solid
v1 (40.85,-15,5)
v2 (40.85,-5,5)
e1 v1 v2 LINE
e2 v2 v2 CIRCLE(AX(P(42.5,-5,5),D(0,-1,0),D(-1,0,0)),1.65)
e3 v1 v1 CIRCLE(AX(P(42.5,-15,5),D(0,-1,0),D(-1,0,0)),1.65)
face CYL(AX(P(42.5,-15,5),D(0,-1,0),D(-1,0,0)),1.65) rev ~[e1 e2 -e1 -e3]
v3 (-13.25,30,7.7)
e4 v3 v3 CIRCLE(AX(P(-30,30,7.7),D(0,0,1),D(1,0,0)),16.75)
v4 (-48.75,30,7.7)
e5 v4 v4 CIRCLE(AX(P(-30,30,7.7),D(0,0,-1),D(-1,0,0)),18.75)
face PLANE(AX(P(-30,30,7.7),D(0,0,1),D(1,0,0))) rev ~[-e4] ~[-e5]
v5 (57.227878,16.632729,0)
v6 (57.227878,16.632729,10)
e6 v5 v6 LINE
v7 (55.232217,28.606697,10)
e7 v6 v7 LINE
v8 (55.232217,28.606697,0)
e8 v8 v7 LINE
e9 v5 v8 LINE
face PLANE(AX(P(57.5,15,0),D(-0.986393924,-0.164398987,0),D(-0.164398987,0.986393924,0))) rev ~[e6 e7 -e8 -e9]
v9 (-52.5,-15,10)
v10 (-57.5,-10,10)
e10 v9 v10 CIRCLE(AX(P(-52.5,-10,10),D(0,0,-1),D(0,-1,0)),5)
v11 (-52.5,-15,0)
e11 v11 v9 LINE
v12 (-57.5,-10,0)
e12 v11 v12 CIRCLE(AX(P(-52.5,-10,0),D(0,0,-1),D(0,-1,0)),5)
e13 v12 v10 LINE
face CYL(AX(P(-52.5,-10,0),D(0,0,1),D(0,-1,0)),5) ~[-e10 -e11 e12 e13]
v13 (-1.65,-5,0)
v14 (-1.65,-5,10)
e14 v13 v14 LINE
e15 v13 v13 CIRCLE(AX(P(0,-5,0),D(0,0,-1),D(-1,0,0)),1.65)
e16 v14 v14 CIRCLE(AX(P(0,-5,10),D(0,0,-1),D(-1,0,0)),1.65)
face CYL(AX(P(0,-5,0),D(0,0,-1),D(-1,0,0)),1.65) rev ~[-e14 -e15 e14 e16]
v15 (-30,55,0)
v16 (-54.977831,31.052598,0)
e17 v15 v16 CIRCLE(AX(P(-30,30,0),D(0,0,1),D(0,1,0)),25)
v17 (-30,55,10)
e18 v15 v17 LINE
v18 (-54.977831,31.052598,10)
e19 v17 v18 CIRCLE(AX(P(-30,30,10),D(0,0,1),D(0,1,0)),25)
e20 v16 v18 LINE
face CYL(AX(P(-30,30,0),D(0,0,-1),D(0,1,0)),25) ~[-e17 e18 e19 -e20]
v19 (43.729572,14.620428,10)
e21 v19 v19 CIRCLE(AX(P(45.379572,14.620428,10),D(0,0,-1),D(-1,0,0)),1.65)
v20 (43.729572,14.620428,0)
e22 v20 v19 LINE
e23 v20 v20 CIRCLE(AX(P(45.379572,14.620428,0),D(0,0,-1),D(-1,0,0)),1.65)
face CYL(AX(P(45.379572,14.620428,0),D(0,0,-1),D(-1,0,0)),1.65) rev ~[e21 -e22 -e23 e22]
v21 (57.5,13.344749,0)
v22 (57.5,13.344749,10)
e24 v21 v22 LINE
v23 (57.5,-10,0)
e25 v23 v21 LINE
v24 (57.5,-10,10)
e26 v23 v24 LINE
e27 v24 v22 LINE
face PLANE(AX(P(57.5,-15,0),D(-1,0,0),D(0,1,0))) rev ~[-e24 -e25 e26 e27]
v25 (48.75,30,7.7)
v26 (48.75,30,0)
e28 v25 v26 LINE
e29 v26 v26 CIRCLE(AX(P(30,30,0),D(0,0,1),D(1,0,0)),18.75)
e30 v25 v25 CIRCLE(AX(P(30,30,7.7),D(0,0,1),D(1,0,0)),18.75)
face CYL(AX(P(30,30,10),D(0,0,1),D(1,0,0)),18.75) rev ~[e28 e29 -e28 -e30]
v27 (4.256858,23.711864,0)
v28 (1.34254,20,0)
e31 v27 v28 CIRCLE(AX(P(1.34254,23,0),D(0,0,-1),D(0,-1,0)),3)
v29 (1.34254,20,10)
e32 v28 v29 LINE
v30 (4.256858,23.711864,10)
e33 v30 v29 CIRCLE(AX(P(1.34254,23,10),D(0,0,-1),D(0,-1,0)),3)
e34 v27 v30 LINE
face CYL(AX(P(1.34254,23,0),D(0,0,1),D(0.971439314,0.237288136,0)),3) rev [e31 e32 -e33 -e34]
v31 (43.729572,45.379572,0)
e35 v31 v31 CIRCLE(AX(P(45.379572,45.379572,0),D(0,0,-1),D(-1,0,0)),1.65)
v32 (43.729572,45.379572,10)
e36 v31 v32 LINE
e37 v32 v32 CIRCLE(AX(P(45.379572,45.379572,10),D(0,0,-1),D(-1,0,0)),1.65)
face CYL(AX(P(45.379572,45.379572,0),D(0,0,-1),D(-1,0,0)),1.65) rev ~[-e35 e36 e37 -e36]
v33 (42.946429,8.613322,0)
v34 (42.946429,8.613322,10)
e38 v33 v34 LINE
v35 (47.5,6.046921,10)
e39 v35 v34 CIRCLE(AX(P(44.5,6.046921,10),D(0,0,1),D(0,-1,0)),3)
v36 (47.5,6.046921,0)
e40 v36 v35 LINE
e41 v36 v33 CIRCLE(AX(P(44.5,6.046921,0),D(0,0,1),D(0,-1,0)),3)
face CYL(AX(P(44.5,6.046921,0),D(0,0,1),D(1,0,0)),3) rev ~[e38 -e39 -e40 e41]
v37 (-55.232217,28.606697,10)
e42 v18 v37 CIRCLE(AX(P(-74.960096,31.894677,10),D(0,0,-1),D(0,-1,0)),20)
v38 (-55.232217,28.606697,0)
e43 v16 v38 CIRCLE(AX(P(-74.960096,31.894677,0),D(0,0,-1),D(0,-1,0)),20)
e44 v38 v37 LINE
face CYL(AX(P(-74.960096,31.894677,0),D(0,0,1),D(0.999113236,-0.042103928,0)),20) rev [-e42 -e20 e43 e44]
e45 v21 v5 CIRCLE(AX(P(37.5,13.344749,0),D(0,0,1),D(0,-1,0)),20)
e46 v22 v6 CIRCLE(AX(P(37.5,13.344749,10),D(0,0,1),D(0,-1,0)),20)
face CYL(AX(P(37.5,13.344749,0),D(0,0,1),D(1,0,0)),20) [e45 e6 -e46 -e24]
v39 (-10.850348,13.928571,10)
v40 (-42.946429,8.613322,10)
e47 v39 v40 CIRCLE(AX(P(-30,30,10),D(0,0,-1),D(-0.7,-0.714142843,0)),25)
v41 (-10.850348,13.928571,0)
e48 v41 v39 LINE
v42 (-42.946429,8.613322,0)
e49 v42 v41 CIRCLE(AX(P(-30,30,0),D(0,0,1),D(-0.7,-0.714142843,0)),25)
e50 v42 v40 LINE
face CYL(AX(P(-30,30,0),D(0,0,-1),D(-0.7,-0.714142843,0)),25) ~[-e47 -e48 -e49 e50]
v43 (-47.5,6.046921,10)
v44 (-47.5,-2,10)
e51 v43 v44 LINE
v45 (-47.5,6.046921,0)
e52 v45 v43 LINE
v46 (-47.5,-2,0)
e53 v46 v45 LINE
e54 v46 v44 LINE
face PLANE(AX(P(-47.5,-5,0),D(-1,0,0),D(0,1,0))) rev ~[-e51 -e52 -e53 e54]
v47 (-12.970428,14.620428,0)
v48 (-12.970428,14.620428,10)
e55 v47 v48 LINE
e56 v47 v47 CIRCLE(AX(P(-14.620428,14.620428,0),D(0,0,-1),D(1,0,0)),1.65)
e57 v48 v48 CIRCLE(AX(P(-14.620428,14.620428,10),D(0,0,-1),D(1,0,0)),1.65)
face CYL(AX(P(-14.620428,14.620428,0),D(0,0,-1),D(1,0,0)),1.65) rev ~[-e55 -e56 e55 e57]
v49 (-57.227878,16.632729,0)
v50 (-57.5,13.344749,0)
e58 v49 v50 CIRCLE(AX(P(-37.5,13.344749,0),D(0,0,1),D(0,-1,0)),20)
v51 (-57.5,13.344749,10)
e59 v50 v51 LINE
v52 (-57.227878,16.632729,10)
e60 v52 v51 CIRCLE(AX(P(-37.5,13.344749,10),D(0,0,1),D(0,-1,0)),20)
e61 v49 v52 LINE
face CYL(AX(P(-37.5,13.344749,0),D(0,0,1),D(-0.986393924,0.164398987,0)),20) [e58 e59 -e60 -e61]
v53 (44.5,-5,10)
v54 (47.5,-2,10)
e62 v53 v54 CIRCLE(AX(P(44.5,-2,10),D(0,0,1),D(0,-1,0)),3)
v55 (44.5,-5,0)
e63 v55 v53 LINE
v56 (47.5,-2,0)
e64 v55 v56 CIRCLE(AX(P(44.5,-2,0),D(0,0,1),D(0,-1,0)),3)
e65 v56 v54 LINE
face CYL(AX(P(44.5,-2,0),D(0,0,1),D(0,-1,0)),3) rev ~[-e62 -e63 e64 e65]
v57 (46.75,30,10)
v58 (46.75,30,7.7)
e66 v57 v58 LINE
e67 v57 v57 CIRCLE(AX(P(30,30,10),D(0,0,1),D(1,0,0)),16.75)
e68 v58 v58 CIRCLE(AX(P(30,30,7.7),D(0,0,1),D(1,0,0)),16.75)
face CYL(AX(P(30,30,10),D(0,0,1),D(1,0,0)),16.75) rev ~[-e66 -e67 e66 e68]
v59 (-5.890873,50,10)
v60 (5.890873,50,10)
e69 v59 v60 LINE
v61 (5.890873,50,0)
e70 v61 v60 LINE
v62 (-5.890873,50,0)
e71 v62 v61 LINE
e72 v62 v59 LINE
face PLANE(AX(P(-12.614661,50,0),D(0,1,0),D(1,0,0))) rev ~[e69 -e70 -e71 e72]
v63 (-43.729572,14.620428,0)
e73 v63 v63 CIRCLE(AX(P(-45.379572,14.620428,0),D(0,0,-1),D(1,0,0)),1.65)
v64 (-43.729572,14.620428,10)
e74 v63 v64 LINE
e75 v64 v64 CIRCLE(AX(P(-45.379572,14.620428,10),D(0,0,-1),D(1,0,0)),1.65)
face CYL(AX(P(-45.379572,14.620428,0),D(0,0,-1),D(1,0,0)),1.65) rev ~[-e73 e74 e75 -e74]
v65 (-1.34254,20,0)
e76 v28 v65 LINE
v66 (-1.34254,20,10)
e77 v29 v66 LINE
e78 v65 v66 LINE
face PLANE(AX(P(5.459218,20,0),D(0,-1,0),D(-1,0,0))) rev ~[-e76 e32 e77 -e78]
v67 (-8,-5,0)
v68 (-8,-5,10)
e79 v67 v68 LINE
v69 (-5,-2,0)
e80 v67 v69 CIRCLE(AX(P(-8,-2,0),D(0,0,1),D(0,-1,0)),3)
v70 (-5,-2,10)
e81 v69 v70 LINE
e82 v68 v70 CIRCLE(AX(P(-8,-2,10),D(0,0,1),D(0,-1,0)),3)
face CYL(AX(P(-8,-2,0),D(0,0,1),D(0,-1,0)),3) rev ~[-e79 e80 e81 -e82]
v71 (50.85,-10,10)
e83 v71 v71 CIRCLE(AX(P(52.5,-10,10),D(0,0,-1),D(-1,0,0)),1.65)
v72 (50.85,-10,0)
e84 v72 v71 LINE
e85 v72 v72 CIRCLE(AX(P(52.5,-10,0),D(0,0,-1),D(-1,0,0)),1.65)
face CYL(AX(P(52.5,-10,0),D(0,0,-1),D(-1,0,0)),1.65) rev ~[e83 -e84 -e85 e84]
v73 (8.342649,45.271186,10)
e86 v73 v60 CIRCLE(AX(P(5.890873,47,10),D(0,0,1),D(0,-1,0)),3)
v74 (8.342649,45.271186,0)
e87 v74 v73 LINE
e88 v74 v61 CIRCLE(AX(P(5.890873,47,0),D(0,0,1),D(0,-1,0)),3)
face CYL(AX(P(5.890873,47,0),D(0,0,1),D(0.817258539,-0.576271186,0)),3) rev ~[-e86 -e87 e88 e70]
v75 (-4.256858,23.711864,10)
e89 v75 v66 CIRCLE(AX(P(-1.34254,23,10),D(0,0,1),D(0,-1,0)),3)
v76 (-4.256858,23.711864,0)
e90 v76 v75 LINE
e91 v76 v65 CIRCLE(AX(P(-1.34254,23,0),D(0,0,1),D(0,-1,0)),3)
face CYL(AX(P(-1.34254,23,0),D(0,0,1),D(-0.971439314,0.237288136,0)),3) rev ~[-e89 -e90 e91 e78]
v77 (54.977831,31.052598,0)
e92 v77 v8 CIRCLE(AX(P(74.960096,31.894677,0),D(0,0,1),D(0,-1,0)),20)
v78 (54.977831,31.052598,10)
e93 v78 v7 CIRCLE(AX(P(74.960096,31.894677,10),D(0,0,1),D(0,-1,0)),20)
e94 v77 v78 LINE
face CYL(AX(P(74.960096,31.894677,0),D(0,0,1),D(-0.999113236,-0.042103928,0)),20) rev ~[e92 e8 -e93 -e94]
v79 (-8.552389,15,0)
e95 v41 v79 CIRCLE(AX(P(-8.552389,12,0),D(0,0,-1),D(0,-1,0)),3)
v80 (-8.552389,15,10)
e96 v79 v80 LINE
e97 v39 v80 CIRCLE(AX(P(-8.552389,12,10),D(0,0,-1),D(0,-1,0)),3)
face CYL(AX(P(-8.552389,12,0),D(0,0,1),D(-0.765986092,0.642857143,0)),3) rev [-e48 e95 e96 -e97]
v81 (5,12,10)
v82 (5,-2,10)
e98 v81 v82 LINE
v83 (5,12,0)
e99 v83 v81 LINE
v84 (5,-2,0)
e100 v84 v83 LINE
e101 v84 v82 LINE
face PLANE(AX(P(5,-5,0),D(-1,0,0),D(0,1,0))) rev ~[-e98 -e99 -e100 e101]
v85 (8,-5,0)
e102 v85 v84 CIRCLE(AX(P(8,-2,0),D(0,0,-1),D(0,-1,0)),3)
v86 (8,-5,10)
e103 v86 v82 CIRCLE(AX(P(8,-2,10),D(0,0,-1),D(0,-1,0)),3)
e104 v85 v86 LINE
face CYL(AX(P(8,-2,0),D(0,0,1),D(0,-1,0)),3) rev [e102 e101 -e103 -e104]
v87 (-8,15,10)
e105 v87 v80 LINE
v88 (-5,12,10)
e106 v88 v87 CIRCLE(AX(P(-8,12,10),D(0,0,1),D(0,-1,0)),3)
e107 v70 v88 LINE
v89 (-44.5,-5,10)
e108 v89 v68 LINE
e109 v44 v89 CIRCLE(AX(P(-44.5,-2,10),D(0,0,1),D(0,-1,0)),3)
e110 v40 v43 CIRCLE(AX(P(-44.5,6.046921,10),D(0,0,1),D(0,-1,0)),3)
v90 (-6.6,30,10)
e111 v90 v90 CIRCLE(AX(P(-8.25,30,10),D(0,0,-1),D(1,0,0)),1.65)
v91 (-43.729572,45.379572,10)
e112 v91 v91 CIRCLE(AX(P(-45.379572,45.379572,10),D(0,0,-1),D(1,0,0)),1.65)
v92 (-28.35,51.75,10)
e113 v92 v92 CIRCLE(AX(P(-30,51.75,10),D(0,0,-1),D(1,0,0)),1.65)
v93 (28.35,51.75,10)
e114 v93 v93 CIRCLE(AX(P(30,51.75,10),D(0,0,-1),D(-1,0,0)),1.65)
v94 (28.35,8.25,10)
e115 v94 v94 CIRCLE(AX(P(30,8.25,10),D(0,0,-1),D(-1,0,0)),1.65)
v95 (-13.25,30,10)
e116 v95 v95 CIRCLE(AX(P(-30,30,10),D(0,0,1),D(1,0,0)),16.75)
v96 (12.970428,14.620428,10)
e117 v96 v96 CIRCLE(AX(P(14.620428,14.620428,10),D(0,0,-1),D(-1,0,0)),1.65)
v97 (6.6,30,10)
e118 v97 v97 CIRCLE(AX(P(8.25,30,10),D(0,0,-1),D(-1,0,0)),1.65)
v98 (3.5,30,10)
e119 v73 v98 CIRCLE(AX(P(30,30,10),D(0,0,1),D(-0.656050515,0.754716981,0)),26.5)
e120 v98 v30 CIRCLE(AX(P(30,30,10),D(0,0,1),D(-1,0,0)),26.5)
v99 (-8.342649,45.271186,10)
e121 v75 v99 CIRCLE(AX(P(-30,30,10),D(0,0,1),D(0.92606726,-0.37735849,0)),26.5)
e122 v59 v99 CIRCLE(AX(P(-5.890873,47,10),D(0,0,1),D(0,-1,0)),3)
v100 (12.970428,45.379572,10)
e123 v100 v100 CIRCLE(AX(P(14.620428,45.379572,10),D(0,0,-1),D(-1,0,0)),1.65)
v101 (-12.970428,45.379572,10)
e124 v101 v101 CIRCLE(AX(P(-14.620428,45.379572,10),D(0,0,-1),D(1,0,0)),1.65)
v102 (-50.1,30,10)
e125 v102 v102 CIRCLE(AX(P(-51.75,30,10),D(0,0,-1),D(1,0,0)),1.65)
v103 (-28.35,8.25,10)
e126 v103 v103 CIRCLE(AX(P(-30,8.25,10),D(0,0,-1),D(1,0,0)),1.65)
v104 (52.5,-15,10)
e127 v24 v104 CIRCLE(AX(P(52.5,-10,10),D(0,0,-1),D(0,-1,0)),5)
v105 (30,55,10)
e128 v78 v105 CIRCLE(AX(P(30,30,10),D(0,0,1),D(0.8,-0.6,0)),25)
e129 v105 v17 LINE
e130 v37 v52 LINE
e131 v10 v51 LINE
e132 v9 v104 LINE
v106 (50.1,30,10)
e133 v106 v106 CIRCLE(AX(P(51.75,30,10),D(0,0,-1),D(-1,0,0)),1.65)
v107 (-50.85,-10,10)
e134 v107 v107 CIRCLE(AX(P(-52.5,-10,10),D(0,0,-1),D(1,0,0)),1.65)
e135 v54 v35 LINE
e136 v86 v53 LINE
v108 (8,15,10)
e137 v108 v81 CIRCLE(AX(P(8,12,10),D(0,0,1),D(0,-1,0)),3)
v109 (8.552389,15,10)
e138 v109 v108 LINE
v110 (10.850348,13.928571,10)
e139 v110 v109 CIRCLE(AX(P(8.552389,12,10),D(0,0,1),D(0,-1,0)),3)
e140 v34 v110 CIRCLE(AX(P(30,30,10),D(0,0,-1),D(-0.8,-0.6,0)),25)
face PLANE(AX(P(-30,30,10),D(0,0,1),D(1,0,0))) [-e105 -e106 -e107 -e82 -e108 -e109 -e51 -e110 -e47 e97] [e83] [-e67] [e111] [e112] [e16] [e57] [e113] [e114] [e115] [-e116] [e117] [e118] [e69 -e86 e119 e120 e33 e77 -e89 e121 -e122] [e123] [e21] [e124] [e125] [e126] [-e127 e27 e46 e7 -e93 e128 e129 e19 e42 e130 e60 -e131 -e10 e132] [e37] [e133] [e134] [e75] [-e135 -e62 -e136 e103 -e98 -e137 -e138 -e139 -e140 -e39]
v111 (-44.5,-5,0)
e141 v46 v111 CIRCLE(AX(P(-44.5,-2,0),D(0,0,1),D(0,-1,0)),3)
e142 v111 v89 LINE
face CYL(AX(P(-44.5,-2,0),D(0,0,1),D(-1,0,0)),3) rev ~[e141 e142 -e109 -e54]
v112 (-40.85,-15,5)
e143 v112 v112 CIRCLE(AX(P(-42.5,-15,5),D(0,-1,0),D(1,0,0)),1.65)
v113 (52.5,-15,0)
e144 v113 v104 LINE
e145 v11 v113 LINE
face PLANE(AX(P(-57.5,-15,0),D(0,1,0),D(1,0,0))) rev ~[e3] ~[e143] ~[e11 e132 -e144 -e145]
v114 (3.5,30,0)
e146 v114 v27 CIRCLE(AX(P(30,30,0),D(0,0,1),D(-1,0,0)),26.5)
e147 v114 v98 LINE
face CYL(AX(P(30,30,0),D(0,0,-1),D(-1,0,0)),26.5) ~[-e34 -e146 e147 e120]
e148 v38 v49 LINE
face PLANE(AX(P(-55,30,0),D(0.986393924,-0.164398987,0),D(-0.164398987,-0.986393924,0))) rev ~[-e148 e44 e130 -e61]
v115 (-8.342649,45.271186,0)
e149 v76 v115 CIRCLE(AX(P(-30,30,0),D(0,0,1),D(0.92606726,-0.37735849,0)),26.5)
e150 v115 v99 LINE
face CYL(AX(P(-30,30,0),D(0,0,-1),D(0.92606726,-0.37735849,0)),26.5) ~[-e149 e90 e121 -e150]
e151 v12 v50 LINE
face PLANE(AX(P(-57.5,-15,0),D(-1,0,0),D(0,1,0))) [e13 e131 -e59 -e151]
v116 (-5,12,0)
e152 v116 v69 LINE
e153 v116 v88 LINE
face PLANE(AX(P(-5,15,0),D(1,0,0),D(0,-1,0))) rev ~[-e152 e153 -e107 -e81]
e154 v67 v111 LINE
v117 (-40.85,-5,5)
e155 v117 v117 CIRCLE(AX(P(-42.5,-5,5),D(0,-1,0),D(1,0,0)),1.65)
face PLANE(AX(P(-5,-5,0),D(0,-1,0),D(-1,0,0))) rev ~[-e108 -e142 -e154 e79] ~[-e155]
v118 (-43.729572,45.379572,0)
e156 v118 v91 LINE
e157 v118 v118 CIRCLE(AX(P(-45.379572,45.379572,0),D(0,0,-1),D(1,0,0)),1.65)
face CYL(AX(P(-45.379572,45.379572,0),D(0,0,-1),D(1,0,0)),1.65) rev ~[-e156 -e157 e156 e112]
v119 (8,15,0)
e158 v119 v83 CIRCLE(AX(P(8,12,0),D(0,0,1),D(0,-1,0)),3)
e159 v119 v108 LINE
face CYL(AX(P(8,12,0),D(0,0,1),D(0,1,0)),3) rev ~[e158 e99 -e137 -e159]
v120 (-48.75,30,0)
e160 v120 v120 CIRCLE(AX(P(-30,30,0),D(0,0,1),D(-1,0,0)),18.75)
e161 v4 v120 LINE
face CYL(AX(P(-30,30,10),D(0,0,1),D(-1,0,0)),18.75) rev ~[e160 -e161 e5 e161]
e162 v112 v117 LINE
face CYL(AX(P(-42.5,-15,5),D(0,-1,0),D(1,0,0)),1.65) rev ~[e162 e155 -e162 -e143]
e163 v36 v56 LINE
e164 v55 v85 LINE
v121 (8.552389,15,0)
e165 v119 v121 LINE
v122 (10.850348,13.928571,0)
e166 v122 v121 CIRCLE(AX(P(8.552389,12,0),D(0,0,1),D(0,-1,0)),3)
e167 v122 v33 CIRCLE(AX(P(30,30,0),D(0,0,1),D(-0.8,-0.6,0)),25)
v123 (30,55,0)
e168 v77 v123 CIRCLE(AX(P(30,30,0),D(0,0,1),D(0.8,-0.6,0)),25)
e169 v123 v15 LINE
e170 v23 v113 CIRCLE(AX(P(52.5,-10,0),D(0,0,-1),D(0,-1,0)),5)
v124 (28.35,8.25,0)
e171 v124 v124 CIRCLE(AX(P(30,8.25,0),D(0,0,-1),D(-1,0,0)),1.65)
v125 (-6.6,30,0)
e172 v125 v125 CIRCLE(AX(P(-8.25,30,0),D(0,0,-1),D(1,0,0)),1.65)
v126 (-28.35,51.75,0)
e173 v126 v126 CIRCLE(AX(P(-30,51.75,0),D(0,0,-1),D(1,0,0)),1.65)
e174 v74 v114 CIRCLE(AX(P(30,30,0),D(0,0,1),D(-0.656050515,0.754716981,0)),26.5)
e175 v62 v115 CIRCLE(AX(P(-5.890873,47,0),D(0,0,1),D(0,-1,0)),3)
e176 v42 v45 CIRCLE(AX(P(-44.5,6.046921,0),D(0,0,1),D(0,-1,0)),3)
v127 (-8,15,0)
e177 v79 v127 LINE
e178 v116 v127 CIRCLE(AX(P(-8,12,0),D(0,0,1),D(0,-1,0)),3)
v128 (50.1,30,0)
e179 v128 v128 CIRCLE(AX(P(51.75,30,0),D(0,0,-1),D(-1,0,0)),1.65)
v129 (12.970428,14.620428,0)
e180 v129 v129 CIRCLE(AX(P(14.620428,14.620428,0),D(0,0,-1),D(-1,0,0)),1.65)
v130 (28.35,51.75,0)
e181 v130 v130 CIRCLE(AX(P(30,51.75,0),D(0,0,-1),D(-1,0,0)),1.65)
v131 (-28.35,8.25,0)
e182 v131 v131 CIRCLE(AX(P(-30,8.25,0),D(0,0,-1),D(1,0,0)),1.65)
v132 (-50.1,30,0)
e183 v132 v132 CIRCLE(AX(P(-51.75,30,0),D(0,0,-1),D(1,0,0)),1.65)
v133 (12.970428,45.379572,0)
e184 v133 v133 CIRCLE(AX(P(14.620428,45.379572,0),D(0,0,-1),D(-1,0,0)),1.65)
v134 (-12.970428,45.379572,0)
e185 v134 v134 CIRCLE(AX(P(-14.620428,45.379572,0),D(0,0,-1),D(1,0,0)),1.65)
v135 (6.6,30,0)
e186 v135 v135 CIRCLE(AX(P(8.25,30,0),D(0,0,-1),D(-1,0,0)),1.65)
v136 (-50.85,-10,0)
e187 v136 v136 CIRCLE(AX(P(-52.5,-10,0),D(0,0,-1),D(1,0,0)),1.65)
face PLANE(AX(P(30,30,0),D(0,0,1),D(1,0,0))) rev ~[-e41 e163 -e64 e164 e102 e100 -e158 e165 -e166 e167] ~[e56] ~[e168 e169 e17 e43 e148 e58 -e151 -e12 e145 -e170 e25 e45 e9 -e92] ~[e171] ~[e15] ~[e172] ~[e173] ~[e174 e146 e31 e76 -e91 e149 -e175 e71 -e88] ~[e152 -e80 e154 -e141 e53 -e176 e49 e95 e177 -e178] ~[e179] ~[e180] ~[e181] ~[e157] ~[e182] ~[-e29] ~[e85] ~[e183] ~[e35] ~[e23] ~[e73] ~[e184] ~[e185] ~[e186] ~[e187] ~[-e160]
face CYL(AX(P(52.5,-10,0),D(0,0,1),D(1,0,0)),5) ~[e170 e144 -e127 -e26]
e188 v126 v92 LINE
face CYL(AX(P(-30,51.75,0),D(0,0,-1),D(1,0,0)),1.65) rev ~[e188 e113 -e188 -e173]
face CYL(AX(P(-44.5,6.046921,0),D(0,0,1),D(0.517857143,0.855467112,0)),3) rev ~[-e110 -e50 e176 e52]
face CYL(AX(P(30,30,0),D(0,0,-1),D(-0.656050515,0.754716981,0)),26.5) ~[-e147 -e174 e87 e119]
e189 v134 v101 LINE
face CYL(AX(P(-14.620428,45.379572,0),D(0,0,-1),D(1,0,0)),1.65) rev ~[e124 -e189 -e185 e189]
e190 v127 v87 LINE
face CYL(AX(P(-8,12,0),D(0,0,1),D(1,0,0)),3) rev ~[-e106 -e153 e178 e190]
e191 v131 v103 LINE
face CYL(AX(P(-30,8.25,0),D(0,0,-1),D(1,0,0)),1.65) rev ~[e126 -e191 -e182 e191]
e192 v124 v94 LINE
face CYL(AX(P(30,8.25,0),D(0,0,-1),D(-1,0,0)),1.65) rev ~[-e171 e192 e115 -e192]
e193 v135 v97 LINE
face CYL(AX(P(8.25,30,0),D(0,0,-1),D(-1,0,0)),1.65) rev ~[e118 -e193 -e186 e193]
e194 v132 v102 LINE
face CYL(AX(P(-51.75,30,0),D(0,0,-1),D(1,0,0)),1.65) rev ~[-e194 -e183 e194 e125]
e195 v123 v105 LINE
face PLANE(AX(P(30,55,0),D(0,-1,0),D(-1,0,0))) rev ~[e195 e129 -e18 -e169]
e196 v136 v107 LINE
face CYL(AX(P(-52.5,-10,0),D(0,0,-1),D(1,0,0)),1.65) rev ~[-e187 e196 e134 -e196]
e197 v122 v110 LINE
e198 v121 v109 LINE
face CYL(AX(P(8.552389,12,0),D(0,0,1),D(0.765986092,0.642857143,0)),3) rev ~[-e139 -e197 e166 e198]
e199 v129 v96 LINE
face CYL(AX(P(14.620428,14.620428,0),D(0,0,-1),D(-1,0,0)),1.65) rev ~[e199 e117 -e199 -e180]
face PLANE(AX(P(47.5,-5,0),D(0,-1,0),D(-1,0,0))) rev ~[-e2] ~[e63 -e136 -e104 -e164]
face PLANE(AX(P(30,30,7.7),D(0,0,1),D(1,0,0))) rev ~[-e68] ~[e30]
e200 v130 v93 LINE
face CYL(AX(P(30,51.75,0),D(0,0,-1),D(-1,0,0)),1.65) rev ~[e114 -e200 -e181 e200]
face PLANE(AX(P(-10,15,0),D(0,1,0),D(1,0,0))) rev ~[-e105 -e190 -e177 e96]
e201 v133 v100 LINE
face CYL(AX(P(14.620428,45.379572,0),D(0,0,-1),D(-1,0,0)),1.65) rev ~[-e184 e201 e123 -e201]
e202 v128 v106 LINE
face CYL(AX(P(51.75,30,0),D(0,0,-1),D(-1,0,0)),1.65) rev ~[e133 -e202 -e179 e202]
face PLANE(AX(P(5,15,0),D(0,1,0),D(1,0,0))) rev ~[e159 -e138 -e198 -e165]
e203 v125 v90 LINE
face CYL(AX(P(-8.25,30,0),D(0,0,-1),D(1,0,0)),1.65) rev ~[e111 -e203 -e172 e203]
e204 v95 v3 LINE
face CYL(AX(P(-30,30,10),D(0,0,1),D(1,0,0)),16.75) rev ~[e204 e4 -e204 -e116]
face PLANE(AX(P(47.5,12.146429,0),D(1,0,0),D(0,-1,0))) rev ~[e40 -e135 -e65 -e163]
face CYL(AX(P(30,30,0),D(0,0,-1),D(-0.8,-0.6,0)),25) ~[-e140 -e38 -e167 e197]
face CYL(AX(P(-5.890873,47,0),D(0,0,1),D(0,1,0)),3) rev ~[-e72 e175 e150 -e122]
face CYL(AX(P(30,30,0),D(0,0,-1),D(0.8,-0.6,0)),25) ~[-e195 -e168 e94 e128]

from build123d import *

# Parameters (mm, degrees)
SKETCH_1_R          = 25
SKETCH_1_W          = 115
SKETCH_1_H          = 30
EXTRUDE_1_DEPTH     = 10
FILLET_1_R          = 20
SKETCH_2_R          = 18.75
CUT_EXTRUDE_1_DEPTH = 81.195074662
CUT_EXTRUDE_3_DEPTH = 81.195074662
FILLET_3_R          = 3
SKETCH_5_R          = 1.65
CUT_EXTRUDE_4_DEPTH = 81.195074662
SKETCH_6_R          = 1.65
CUT_EXTRUDE_5_DEPTH = 81.195074662
FILLET_5_R          = 5
SKETCH_7_R          = 18.75
SKETCH_7_R_2        = 16.75
EXTRUDE_2_DEPTH     = 2.3
CUT_EXTRUDE_6_DEPTH = 10
FILLET_6_R          = 3
SKETCH_9_R          = 1.65
CUT_EXTRUDE_7_DEPTH = 10


with BuildPart() as part:
    # ｽｹｯﾁ1 → ﾎﾞｽ - 押し出し1 (new body)
    with BuildSketch(Plane.XY):
        with Locations((30, 30)):
            Circle(SKETCH_1_R)
        with Locations((-30, 30)):
            Circle(SKETCH_1_R)
        Rectangle(SKETCH_1_W, SKETCH_1_H)
        with BuildLine():
            ThreePointArc((-50, 15), (-30, 5), (-10, 15))
            Line((-10, 15), (-50, 15))
        make_face()
        with BuildLine():
            Line((-50, 15), (-10, 15))
            ThreePointArc((-10, 15), (-6.282917549, 22.09430585), (-5, 30))
            ThreePointArc((-5, 30), (-12.32233047, 47.67766953), (-30, 55))
            ThreePointArc((-30, 55), (-47.67766953, 47.67766953), (-55, 30))
            ThreePointArc((-55, 30), (-53.717082451, 22.09430585), (-50, 15))
        make_face()
        with BuildLine():
            Line((-10, 15), (10, 15))
            ThreePointArc((10, 15), (7.639320225, 41.180339887), (30, 55))
            Line((30, 55), (-30, 55))
            ThreePointArc((-30, 55), (-12.32233047, 47.67766953), (-5, 30))
            ThreePointArc((-5, 30), (-6.282917549, 22.09430585), (-10, 15))
        make_face()
        with BuildLine():
            ThreePointArc((10, 15), (30, 5), (50, 15))
            Line((50, 15), (10, 15))
        make_face()
        with BuildLine():
            Line((10, 15), (50, 15))
            ThreePointArc((50, 15), (53.717082451, 22.09430585), (55, 30))
            ThreePointArc((55, 30), (47.67766953, 47.67766953), (30, 55))
            ThreePointArc((30, 55), (7.639320225, 41.180339887), (10, 15))
        make_face()
        with BuildLine():
            Line((50, 15), (57.5, 15))
            Line((57.5, 15), (55, 30))
            ThreePointArc((55, 30), (53.717082451, 22.09430585), (50, 15))
        make_face()
        with BuildLine():
            Line((-55, 30), (-57.5, 15))
            Line((-57.5, 15), (-50, 15))
            ThreePointArc((-50, 15), (-53.717082451, 22.09430585), (-55, 30))
        make_face()
    extrude(amount=EXTRUDE_1_DEPTH)

    # ﾌｨﾚｯﾄ1
    fillet_1_edges = [part.edges().sort_by_distance(p)[0] for p in [
        (55, 30, 5),
        (57.5, 15, 5),
        (-57.5, 15, 5),
        (-55, 30, 5),
    ]]
    fillet(fillet_1_edges, radius=FILLET_1_R)

    # ｽｹｯﾁ2 → ｶｯﾄ - 押し出し1 (cut, through all)
    with BuildSketch(Plane.XY.offset(10)):
        with Locations((30, 30)):
            Circle(SKETCH_2_R)
        with Locations(Location((-30, 30, 0), (0, 0, 180))):
            Circle(SKETCH_2_R)
    extrude(amount=-CUT_EXTRUDE_1_DEPTH, mode=Mode.SUBTRACT)

    # ｽｹｯﾁ4 → ｶｯﾄ - 押し出し3 (cut, through all)
    with BuildSketch(Plane(origin=(0, 0, 0), x_dir=(-1, 0, 0), z_dir=(0, 0, -1))):
        with BuildLine():
            Line((-5, -5), (-5, 15))
            Line((-5, 15), (-10, 15))
            ThreePointArc((-10, 15), (-28.103103333, 5.072068216), (-47.5, 12.146428929))
            Line((-47.5, 12.146428929), (-47.5, -5))
            Line((-47.5, -5), (-5, -5))
        make_face()
        with BuildLine():
            Line((10, 15), (5, 15))
            Line((5, 15), (5, -5))
            Line((5, -5), (47.5, -5))
            Line((47.5, -5), (47.5, 12.146428929))
            ThreePointArc((47.5, 12.146428929), (28.103103333, 5.072068216), (10, 15))
        make_face()
    extrude(amount=-CUT_EXTRUDE_3_DEPTH, mode=Mode.SUBTRACT)

    # ﾌｨﾚｯﾄ3
    fillet_3_edges = [part.edges().sort_by_distance(p)[0] for p in [
        (-47.5, 12.146428929, 5),
        (-47.5, -5, 5),
        (-5, -5, 5),
        (-5, 15, 5),
        (-10, 15, 5),
        (47.5, 12.146428929, 5),
        (10, 15, 5),
        (5, 15, 5),
        (5, -5, 5),
        (47.5, -5, 5),
    ]]
    fillet(fillet_3_edges, radius=FILLET_3_R)

    # ｽｹｯﾁ5 → ｶｯﾄ - 押し出し4 (cut, through all)
    with BuildSketch(Plane(origin=(0, 0, 0), x_dir=(-1, 0, 0), z_dir=(0, 0, -1))):
        with Locations((-30, 51.75)):
            Circle(SKETCH_5_R)
        with Locations((-14.620427509, 45.379572491)):
            Circle(SKETCH_5_R)
        with Locations((-8.25, 30)):
            Circle(SKETCH_5_R)
        with Locations((-14.620427509, 14.620427509)):
            Circle(SKETCH_5_R)
        with Locations((-30, 8.25)):
            Circle(SKETCH_5_R)
        with Locations((-45.379572491, 14.620427509)):
            Circle(SKETCH_5_R)
        with Locations((-51.75, 30)):
            Circle(SKETCH_5_R)
        with Locations((-45.379572491, 45.379572491)):
            Circle(SKETCH_5_R)
        with Locations(Location((45.379572491, 45.379572491, 0), (0, 0, 180))):
            Circle(SKETCH_5_R)
        with Locations(Location((51.75, 30, 0), (0, 0, 180))):
            Circle(SKETCH_5_R)
        with Locations(Location((45.379572491, 14.620427509, 0), (0, 0, 180))):
            Circle(SKETCH_5_R)
        with Locations(Location((30, 8.25, 0), (0, 0, 180))):
            Circle(SKETCH_5_R)
        with Locations(Location((14.620427509, 14.620427509, 0), (0, 0, 180))):
            Circle(SKETCH_5_R)
        with Locations(Location((8.25, 30, 0), (0, 0, 180))):
            Circle(SKETCH_5_R)
        with Locations(Location((14.620427509, 45.379572491, 0), (0, 0, 180))):
            Circle(SKETCH_5_R)
        with Locations(Location((30, 51.75, 0), (0, 0, 180))):
            Circle(SKETCH_5_R)
    extrude(amount=-CUT_EXTRUDE_4_DEPTH, mode=Mode.SUBTRACT)

    # ｽｹｯﾁ6 → ｶｯﾄ - 押し出し5 (cut, through all)
    with BuildSketch(Plane(origin=(0, 0, 0), x_dir=(-1, 0, 0), z_dir=(0, 0, -1))):
        with Locations((-52.5, -10)):
            Circle(SKETCH_6_R)
        with Locations(Location((52.5, -10, 0), (0, 0, 180))):
            Circle(SKETCH_6_R)
        with Locations((0, -5)):
            Circle(SKETCH_6_R)
    extrude(amount=-CUT_EXTRUDE_5_DEPTH, mode=Mode.SUBTRACT)

    # ﾌｨﾚｯﾄ5
    fillet_5_edges = [part.edges().sort_by_distance(p)[0] for p in [
        (57.5, -15, 5),
        (-57.5, -15, 5),
    ]]
    fillet(fillet_5_edges, radius=FILLET_5_R)

    # ｽｹｯﾁ7 → ﾎﾞｽ - 押し出し2 (add)
    # profile 1 of 2: a face of its own
    with BuildSketch(Plane.XY.offset(10)):
        with Locations((-30, 30)):
            Circle(SKETCH_7_R)
        with Locations((-30, 30)):
            Circle(SKETCH_7_R_2, mode=Mode.SUBTRACT)
    # profile 2 of 2: a face of its own
    with BuildSketch(Plane.XY.offset(10)):
        with Locations((30, 30)):
            Circle(SKETCH_7_R)
        with Locations((30, 30)):
            Circle(SKETCH_7_R_2, mode=Mode.SUBTRACT)
    extrude(amount=-EXTRUDE_2_DEPTH)

    # ｽｹｯﾁ8 → ｶｯﾄ - 押し出し6 (cut)
    with BuildSketch(Plane(origin=(0, 0, 0), x_dir=(-1, 0, 0), z_dir=(0, 0, -1))):
        with BuildLine():
            Line((-5.459217616, 20), (0, 20))
            Line((0, 20), (0, 50))
            Line((0, 50), (-12.614661349, 50))
            ThreePointArc((-12.614661349, 50), (-5.886088307, 40.989506944), (-3.5, 30))
            ThreePointArc((-3.5, 30), (-3.994416627, 24.904940293), (-5.459217616, 20))
        make_face()
        with BuildLine():
            Line((0, 50), (0, 20))
            Line((0, 20), (5.459217616, 20))
            ThreePointArc((5.459217616, 20), (4.223074151, 36.148178084), (12.614661349, 50))
            Line((12.614661349, 50), (0, 50))
        make_face()
    extrude(amount=-CUT_EXTRUDE_6_DEPTH, mode=Mode.SUBTRACT)

    # ﾌｨﾚｯﾄ6
    fillet_6_edges = [part.edges().sort_by_distance(p)[0] for p in [
        (-5.459217616, 20, 5),
        (5.459217616, 20, 5),
        (12.614661349, 50, 5),
        (-12.614661349, 50, 5),
    ]]
    fillet(fillet_6_edges, radius=FILLET_6_R)

    # ｽｹｯﾁ9 → ｶｯﾄ - 押し出し7 (cut)
    with BuildSketch(Plane.XZ.offset(15)):
        with Locations((-42.5, 5)):
            Circle(SKETCH_9_R)
        with Locations(Location((42.5, 5, 0), (0, 0, 180))):
            Circle(SKETCH_9_R)
    extrude(amount=-CUT_EXTRUDE_7_DEPTH, mode=Mode.SUBTRACT)


solid = part.part
